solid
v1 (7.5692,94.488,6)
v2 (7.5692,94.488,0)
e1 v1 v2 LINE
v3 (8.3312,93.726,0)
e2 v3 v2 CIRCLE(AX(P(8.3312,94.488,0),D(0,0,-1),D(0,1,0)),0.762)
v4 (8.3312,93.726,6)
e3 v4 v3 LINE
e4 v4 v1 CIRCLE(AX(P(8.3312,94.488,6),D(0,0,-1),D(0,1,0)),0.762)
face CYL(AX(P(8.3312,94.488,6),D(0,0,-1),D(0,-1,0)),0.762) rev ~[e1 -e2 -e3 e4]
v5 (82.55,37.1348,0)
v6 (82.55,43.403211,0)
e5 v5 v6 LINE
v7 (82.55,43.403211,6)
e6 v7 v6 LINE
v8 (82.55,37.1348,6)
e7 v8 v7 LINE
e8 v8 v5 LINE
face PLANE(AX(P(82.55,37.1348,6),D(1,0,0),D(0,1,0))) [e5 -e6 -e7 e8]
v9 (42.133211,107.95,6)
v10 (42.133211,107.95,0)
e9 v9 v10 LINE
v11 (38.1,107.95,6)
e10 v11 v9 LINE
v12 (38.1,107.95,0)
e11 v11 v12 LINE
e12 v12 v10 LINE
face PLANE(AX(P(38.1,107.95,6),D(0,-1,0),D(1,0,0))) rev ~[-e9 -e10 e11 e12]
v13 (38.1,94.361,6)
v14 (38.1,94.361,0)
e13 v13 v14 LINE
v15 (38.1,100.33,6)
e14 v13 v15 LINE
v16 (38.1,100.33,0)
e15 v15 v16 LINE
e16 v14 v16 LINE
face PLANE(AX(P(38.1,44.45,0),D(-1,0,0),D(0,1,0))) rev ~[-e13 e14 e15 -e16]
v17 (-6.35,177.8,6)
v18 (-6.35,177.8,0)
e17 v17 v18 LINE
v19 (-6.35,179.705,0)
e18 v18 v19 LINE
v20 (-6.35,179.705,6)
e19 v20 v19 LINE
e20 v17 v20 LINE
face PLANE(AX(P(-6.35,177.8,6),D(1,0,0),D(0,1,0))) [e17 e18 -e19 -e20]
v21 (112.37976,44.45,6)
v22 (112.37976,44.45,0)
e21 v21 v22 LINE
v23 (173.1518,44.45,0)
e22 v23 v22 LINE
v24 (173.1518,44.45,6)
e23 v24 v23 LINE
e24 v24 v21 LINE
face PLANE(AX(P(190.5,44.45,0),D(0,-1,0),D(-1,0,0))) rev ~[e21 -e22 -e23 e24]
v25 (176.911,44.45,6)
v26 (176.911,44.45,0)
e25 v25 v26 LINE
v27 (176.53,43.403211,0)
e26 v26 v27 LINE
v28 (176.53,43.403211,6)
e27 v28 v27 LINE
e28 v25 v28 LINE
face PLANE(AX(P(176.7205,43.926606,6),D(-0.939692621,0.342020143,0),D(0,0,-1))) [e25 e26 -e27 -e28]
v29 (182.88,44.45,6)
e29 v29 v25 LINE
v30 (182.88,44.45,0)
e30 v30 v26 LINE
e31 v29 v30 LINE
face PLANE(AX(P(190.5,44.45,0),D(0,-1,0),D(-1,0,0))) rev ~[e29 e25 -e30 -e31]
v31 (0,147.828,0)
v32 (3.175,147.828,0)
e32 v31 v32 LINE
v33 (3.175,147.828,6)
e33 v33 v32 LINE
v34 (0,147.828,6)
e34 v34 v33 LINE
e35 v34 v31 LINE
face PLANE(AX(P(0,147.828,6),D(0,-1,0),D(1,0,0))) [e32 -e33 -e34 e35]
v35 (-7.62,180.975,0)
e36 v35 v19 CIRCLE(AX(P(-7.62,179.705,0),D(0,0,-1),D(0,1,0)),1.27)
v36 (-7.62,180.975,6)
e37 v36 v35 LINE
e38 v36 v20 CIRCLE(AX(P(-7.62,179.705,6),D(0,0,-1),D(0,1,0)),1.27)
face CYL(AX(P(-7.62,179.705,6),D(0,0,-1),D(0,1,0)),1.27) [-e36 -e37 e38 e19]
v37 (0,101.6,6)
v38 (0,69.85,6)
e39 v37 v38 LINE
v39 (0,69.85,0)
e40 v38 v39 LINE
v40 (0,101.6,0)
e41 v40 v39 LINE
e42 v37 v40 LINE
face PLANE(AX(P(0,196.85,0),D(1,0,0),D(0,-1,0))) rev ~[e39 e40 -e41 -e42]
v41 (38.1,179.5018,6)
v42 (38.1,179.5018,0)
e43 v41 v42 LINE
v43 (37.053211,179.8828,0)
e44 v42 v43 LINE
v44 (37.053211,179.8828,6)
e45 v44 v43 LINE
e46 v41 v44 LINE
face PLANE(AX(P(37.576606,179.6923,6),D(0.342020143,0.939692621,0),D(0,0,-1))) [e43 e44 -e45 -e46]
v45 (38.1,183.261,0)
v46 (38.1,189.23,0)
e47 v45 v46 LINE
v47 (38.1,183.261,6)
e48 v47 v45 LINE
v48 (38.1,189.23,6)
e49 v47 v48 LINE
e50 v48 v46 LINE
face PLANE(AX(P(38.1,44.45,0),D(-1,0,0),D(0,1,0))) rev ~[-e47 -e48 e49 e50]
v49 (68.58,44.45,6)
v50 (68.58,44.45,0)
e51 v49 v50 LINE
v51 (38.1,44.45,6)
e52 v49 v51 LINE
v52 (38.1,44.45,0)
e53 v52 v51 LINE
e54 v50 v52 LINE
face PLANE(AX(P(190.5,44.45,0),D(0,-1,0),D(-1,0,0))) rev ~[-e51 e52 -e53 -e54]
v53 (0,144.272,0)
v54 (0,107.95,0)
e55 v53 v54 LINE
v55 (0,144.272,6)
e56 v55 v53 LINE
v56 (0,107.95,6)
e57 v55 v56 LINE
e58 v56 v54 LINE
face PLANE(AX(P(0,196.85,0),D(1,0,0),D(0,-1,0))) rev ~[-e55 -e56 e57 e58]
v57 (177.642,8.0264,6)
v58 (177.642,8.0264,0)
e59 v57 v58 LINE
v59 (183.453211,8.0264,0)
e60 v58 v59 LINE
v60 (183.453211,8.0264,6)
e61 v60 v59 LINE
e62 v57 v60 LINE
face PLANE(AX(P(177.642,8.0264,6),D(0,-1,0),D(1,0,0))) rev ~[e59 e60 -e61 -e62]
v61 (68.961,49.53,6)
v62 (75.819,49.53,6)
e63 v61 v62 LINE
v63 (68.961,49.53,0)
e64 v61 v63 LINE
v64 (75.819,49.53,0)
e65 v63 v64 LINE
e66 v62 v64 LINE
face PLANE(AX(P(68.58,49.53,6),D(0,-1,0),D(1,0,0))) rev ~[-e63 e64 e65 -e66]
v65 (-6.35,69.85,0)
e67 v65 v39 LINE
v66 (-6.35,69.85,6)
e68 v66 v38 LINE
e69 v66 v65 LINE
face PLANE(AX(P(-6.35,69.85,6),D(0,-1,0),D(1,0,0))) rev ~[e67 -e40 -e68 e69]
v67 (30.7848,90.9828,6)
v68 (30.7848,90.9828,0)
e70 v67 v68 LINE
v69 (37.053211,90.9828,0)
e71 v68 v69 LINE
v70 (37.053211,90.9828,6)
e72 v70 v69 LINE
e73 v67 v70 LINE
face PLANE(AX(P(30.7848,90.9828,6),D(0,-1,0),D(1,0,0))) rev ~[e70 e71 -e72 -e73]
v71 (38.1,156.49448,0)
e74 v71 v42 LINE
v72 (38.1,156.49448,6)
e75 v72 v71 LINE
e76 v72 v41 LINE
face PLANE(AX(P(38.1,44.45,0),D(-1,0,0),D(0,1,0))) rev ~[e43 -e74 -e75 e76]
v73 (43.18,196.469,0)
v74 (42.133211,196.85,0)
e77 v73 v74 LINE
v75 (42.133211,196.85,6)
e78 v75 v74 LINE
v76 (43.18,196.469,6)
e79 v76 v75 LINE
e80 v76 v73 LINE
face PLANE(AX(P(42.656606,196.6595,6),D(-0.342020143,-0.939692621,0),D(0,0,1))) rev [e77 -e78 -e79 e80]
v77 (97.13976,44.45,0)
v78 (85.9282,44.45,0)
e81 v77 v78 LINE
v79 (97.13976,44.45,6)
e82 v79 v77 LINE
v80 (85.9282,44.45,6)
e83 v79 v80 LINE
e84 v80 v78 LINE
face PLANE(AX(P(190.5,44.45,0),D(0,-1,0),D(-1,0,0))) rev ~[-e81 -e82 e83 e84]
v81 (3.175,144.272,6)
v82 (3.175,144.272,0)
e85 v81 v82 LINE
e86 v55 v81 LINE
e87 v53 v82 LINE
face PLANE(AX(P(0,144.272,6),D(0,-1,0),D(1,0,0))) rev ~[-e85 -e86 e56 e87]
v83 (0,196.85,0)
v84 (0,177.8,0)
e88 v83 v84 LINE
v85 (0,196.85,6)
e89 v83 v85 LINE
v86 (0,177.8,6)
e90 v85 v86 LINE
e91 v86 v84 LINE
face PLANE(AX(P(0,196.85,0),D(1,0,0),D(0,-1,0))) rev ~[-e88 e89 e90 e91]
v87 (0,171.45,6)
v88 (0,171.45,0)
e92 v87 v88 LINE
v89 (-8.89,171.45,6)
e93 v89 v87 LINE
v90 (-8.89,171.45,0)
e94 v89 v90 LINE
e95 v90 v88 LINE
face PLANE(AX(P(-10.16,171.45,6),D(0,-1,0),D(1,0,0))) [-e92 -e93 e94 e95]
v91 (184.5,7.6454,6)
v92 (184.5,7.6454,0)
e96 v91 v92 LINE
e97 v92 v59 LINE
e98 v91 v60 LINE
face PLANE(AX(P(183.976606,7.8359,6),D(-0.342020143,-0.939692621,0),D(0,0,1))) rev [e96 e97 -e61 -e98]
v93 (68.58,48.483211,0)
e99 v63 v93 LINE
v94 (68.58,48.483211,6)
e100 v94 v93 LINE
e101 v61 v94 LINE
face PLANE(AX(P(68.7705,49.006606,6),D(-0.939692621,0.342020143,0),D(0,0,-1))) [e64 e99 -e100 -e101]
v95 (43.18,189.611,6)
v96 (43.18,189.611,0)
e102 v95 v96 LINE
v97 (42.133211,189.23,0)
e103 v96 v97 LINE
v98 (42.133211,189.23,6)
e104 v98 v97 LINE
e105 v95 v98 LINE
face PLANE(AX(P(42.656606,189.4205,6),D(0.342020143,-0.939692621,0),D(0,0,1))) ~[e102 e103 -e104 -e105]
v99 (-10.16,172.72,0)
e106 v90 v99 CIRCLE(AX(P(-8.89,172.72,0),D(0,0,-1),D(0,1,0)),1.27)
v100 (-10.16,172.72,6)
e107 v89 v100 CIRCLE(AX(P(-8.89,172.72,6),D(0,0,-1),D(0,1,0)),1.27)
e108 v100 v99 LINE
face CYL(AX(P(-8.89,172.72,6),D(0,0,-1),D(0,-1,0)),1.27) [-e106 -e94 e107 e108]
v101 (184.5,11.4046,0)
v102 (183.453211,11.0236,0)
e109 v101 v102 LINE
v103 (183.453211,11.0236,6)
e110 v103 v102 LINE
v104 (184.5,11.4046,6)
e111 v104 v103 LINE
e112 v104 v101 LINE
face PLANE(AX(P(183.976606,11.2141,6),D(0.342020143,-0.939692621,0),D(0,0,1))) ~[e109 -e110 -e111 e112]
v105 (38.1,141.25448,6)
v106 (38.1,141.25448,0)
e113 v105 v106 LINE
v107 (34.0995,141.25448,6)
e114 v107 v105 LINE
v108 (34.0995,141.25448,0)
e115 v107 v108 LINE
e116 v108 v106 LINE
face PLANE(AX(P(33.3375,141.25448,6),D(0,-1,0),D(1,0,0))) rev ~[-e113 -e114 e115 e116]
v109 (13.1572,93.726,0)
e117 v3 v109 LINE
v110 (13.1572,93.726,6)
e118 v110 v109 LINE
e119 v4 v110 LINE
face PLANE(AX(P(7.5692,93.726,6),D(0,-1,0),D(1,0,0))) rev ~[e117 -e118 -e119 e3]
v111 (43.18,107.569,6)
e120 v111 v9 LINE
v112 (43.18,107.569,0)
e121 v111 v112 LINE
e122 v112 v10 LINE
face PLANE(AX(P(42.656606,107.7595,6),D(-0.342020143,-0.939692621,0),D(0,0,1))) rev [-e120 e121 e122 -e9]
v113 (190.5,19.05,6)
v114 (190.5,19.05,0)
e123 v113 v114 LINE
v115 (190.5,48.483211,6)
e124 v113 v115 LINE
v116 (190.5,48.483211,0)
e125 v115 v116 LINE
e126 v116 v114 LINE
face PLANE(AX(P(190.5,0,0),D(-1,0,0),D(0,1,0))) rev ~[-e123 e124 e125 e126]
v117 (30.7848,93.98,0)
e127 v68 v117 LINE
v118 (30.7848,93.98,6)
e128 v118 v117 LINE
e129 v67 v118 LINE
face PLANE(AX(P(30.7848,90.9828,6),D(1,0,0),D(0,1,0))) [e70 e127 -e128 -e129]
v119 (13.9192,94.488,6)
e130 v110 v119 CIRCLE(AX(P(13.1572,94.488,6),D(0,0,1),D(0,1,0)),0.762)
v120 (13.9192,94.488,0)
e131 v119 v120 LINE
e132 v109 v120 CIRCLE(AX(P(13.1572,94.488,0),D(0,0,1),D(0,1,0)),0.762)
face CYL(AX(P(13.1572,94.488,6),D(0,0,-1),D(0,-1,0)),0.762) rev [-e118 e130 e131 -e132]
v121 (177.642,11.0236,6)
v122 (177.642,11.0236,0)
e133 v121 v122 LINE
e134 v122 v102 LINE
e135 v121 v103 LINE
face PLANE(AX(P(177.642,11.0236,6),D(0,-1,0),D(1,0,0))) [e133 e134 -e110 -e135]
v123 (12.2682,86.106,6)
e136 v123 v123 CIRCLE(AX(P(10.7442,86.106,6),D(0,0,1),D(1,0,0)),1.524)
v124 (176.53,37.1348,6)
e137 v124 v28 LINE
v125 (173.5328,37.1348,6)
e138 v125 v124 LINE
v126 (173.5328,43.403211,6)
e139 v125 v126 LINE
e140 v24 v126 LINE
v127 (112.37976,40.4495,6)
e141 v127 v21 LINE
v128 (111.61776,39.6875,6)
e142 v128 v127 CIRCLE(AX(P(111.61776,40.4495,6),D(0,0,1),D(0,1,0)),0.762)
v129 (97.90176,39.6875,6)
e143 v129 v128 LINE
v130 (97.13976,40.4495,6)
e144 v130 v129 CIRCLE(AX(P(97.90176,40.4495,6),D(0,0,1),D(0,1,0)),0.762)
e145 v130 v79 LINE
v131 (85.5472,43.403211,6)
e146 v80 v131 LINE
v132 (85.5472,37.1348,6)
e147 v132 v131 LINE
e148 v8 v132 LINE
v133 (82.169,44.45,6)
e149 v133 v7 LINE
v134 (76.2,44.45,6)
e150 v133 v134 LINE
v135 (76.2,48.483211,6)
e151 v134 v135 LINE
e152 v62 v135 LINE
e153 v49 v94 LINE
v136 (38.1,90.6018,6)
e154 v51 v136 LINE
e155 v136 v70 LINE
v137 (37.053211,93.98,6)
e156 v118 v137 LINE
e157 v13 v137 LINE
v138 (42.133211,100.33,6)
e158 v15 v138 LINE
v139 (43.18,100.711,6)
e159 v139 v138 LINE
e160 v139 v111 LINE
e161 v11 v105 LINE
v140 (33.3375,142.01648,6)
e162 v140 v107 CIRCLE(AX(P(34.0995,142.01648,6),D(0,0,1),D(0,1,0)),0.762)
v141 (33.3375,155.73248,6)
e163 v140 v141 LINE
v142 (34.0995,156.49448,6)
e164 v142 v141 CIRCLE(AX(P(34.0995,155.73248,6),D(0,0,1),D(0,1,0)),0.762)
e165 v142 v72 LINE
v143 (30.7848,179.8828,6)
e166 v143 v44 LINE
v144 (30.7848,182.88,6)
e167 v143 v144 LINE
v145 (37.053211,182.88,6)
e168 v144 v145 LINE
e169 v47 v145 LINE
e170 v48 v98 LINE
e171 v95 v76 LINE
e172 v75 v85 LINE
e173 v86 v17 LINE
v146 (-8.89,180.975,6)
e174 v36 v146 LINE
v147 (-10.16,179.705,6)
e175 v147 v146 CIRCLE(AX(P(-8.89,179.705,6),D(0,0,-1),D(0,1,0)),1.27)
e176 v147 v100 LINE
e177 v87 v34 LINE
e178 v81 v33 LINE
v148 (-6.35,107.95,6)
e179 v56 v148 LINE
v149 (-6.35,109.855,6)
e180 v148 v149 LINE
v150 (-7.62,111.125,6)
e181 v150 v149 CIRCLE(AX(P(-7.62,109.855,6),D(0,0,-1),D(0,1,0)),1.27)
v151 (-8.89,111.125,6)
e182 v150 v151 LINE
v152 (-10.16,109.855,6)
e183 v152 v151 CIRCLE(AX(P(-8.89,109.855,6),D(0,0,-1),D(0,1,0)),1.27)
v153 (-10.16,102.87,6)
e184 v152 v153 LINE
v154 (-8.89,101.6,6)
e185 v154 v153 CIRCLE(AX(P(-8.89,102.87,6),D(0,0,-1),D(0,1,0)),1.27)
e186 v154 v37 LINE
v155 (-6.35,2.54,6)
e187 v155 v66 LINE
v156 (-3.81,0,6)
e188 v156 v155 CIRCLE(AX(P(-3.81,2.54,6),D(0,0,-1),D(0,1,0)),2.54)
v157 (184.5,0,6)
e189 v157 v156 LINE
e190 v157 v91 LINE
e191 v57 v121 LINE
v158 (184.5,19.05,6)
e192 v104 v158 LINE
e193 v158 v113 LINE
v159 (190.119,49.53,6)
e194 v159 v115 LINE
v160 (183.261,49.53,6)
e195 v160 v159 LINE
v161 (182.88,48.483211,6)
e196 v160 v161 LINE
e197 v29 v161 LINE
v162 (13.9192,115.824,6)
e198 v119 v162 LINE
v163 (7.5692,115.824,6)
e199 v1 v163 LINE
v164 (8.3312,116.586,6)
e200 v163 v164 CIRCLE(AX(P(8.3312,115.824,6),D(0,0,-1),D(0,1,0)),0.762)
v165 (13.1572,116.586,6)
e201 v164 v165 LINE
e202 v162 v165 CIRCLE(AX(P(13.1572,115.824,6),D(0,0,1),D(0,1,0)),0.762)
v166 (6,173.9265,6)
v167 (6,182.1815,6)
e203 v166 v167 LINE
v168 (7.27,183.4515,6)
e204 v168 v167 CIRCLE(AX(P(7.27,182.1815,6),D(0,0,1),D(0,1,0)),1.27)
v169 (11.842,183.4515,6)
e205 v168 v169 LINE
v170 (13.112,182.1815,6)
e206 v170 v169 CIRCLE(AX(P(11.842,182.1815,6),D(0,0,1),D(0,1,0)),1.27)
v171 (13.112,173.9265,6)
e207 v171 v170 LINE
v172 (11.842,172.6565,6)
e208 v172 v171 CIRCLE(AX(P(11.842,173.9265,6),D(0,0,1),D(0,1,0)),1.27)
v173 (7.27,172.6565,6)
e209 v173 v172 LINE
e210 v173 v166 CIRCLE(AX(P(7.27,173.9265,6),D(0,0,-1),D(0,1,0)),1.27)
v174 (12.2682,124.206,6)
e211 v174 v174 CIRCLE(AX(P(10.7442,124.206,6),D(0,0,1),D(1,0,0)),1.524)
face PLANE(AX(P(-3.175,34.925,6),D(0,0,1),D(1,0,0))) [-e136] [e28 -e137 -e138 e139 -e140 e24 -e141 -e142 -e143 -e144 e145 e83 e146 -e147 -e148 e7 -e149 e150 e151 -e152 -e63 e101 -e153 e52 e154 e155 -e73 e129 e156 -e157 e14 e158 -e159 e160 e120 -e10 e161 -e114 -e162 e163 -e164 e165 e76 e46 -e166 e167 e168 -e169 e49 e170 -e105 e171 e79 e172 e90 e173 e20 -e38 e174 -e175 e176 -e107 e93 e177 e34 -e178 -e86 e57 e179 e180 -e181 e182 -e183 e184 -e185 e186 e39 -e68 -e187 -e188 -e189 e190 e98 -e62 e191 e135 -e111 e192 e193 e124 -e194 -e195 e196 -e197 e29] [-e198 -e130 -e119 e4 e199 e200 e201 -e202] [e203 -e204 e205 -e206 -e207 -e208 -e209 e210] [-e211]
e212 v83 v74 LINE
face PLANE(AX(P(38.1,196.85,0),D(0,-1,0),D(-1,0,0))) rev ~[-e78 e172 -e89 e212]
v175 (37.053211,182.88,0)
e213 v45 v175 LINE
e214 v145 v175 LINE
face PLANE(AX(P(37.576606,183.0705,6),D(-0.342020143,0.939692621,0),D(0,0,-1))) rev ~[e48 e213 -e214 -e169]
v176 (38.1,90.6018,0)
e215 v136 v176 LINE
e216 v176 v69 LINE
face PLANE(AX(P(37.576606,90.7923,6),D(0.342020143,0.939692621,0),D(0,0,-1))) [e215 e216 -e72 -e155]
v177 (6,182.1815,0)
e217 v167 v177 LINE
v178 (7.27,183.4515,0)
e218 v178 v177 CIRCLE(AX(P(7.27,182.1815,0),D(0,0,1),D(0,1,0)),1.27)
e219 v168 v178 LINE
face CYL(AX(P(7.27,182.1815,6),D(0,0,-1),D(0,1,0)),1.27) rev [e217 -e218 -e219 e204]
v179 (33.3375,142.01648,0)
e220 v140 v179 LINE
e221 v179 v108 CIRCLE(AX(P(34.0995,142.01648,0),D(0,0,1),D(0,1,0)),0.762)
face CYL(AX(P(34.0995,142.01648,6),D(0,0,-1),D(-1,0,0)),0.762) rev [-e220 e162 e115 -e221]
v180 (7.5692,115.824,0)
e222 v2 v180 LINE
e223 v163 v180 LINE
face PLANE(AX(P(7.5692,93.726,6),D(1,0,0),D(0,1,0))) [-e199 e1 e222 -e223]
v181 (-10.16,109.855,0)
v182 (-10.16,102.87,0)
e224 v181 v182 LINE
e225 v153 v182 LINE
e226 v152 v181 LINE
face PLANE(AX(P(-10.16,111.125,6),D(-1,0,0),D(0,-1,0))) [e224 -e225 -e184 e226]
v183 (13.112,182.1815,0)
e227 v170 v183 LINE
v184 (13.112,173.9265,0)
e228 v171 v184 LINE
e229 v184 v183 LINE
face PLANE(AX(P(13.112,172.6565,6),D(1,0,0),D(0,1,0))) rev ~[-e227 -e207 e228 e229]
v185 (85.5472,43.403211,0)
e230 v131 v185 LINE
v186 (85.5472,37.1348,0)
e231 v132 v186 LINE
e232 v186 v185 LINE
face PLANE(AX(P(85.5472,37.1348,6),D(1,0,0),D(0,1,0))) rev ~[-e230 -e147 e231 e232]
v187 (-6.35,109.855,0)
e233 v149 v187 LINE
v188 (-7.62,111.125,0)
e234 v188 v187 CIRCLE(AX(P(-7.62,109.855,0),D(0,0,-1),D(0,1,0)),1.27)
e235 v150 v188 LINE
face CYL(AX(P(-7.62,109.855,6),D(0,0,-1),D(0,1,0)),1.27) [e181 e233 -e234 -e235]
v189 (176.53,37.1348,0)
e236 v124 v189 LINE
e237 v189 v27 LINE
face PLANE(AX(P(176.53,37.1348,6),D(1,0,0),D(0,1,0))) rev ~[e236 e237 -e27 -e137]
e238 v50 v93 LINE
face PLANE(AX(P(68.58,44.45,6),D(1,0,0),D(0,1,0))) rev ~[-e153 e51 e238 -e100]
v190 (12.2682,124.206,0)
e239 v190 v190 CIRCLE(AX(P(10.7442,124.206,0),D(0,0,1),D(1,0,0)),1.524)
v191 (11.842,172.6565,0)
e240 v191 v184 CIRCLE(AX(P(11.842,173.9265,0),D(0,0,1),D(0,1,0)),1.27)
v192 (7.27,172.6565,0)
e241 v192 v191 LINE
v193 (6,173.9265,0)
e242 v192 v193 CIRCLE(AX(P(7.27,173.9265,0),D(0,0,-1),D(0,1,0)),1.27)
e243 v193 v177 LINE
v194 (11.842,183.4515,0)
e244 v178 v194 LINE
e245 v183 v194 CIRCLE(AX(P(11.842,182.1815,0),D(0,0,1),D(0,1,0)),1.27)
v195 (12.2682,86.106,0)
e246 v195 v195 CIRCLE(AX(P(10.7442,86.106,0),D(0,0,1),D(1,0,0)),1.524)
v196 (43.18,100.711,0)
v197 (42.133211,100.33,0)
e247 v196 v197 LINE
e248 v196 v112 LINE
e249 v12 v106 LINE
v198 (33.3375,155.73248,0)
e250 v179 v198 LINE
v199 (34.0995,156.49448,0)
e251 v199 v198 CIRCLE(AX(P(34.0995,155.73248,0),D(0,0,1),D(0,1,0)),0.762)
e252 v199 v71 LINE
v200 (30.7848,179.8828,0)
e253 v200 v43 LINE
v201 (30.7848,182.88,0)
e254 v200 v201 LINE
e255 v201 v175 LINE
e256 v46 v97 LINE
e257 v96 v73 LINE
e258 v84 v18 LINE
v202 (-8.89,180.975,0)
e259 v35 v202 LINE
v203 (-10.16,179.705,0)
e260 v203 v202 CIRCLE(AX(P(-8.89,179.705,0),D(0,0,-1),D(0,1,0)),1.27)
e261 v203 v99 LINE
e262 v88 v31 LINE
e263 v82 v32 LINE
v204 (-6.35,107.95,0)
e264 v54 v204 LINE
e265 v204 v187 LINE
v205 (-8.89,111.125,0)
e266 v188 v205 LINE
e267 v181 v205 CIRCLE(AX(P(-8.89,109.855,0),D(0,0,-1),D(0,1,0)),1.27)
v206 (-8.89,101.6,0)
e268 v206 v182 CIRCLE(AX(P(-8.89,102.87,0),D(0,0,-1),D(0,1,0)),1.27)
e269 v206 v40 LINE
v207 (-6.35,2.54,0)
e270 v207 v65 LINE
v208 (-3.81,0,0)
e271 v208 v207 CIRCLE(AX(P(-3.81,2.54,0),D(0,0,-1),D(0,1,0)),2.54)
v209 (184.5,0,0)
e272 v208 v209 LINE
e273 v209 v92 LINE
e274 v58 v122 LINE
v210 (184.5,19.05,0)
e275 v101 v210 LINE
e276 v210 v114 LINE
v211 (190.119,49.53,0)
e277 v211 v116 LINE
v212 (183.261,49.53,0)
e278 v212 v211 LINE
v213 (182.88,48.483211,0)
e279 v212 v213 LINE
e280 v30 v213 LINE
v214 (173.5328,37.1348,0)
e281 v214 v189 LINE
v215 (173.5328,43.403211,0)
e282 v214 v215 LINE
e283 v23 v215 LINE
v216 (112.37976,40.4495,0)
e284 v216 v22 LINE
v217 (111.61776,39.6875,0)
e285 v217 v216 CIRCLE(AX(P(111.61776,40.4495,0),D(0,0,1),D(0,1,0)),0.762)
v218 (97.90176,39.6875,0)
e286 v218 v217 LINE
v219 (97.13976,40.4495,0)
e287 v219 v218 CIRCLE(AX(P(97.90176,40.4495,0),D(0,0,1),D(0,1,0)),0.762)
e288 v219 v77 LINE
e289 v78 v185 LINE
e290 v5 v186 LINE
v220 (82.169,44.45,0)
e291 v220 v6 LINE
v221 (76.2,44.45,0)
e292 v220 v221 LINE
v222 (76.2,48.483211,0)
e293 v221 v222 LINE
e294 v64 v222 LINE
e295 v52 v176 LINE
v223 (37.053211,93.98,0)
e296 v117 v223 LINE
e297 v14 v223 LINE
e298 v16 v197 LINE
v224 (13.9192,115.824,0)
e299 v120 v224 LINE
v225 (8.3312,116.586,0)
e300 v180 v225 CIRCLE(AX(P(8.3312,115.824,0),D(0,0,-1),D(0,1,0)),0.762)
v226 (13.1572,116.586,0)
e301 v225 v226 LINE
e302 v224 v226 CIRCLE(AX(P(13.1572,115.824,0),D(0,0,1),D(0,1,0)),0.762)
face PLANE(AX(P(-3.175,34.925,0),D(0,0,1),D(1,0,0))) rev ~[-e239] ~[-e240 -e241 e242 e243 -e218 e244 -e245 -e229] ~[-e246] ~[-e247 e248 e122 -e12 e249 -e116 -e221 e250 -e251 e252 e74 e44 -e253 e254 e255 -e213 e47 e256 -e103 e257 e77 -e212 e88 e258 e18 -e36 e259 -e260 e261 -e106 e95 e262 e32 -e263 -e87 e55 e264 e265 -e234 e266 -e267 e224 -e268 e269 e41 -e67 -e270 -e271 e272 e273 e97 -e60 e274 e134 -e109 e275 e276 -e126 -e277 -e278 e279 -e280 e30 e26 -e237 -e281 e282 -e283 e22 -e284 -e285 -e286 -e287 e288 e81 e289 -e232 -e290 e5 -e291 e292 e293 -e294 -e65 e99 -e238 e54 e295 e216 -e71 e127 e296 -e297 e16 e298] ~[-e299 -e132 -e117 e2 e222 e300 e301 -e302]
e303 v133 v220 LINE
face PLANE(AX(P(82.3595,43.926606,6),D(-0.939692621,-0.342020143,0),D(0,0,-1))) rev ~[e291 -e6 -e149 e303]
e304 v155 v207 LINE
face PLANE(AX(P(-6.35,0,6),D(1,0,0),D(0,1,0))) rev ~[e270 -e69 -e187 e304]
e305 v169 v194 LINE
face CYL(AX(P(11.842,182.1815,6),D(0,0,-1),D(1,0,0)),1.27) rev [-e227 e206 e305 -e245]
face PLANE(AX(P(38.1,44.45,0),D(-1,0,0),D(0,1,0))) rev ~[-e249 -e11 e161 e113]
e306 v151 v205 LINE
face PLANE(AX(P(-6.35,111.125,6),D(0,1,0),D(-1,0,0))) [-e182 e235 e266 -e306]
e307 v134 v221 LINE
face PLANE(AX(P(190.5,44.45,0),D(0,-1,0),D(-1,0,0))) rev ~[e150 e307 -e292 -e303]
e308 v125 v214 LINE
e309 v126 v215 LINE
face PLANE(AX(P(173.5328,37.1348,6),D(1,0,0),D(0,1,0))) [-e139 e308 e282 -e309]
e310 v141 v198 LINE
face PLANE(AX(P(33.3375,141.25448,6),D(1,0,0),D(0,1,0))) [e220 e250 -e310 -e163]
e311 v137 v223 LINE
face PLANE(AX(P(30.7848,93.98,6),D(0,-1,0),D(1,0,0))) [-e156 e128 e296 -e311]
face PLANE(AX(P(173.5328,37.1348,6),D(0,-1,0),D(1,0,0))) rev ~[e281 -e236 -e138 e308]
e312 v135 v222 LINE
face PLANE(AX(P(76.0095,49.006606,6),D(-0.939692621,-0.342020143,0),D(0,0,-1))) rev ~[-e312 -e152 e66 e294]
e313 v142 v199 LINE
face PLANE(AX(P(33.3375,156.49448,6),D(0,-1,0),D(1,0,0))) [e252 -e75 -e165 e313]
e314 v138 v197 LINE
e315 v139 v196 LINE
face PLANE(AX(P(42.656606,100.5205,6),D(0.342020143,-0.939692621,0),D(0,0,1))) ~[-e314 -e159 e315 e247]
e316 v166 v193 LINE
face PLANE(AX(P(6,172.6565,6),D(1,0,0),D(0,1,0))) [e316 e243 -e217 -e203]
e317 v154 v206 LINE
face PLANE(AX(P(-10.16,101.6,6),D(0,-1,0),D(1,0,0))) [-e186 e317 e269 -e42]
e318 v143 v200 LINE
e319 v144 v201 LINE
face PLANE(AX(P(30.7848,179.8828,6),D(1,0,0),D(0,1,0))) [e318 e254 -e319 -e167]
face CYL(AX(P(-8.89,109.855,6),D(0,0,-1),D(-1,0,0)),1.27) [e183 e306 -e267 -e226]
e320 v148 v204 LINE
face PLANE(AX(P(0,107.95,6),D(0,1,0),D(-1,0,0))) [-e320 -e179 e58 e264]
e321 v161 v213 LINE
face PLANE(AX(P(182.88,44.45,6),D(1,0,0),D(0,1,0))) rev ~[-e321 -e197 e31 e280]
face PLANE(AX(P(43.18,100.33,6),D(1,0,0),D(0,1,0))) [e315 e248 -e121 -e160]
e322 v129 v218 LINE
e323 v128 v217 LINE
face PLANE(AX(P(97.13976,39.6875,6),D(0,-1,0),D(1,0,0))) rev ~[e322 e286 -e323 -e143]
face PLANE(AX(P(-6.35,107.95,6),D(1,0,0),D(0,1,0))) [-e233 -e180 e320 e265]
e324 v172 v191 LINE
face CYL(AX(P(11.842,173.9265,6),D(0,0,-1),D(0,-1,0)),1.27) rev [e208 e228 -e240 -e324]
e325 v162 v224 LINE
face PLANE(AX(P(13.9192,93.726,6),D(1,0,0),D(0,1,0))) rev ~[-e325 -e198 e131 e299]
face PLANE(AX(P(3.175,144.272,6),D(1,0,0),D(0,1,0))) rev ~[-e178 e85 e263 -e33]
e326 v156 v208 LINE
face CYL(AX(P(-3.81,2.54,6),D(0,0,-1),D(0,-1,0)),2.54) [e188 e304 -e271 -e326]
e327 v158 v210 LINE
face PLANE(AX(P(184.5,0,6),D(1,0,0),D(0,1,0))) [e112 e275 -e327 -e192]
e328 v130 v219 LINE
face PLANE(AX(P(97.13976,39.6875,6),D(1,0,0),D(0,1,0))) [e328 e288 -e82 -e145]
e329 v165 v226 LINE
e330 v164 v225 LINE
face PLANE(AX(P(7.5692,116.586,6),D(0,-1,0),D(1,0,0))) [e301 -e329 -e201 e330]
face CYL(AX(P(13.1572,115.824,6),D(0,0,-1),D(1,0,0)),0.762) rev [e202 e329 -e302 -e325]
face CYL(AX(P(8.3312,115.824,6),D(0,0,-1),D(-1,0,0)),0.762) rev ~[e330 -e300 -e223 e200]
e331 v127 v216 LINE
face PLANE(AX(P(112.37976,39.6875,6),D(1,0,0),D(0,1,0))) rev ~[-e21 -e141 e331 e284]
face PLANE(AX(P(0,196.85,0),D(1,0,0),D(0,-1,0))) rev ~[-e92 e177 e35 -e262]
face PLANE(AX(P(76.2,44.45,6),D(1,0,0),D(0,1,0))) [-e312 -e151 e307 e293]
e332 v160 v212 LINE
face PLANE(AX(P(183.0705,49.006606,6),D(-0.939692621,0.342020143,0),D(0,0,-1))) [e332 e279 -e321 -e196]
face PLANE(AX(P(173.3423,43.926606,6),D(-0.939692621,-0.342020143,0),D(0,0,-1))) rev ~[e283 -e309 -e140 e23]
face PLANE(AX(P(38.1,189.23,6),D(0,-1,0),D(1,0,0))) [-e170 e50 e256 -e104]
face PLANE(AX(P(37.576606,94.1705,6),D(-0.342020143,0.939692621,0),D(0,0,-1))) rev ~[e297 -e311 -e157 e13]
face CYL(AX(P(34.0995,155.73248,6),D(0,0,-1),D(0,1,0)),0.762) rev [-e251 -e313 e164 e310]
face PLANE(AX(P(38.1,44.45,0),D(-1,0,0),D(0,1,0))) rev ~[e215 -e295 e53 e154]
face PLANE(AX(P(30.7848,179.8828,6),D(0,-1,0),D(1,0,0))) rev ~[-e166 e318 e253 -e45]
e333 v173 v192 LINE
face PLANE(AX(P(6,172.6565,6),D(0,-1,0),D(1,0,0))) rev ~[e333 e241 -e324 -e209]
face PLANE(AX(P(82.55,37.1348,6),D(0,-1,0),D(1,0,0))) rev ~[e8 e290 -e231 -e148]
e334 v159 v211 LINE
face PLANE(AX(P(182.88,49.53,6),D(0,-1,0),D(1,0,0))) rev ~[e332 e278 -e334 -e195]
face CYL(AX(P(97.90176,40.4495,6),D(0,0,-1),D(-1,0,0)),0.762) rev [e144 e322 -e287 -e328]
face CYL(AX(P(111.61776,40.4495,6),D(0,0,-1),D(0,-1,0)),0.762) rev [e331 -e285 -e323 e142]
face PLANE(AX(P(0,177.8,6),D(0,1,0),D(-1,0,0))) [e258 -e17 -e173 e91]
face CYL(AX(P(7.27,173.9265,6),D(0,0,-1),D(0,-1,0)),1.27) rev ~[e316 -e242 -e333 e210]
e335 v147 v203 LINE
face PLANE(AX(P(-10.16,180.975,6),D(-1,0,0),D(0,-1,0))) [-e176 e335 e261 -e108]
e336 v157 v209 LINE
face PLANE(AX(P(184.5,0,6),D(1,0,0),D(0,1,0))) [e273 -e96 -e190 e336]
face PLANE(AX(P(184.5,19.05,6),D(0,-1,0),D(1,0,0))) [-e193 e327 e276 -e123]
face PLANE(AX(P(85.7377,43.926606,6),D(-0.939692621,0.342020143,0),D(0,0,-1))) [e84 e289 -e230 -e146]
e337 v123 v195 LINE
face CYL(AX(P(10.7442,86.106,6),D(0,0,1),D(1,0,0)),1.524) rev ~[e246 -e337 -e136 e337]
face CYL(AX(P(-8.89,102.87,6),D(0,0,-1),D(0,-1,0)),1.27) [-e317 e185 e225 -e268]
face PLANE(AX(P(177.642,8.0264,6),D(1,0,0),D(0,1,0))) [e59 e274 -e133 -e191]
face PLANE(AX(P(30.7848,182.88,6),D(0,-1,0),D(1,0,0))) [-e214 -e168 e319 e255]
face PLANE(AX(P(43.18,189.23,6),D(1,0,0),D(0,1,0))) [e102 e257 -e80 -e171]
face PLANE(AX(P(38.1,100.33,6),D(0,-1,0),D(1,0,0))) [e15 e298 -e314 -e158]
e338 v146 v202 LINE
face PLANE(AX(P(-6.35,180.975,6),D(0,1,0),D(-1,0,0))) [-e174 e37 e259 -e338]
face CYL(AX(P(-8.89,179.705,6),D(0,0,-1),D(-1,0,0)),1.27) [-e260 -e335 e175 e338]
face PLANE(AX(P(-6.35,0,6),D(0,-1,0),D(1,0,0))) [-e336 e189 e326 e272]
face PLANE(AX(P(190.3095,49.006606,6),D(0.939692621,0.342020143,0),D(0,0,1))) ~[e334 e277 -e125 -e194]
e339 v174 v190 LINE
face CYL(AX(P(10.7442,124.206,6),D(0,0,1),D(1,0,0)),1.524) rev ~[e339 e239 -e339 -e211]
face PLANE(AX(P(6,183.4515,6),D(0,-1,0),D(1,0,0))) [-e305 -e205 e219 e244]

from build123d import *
from OCP.BRepFilletAPI import BRepFilletAPI_MakeChamfer

# Parameters (mm, degrees)
BOSS_EXTRUDE1_DEPTH = 6
SKETCH2_W           = 6.35
SKETCH2_H           = 69.85
SKETCH2_W_2         = 7.62
SKETCH2_H_2         = 5.08
SKETCH2_W_3         = 5.08
SKETCH2_H_3         = 7.62
BOSS_EXTRUDE2_DEPTH = 6
FILLET1_R           = 1.27
SKETCH3_W           = 6
SKETCH3_H           = 19.05
CUT_EXTRUDE1_DEPTH  = 275.000314781
FILLET2_R           = 2.54
SKETCH4_W           = 7.112
SKETCH4_H           = 10.795
SKETCH4_W_2         = 3.175
SKETCH4_H_2         = 3.556
CUT_EXTRUDE2_DEPTH  = 275.000314781
FILLET3_R           = 1.27
SKETCH5_R           = 1.524
SKETCH5_W           = 6.35
SKETCH5_H           = 22.86
CUT_EXTRUDE3_DEPTH  = 275.000314781
SKETCH6_W           = 7.3152
SKETCH6_H           = 2.9972
SKETCH6_W_2         = 2.9972
SKETCH6_H_2         = 7.3152
SKETCH6_W_3         = 6.858
SKETCH6_W_4         = 4.7625
SKETCH6_H_3         = 15.24
SKETCH6_W_5         = 15.24
SKETCH6_H_4         = 4.7625
CUT_EXTRUDE4_DEPTH  = 275.000314781
FILLET4_R           = 0.762
CHAMFER1_SIZE       = 0.381
CHAMFER1_SIZE2      = 1.046788897
CHAMFER2_SIZE       = 0.381
CHAMFER2_SIZE2      = 1.046788897


with BuildPart() as part:
    # Sketch1 → Boss-Extrude1 (new body)
    with BuildSketch(Plane.XY):
        Polygon((0, 0), (190.5, 0), (190.5, 44.45), (38.1, 44.45), (38.1, 196.85), (0, 196.85), align=None)
    extrude(amount=BOSS_EXTRUDE1_DEPTH)

    # Sketch2 → Boss-Extrude2 (add)
    with BuildSketch(Plane.XY.offset(6)):
        Polygon((0, 177.8), (-6.35, 177.8), (-6.35, 180.975), (-10.16, 180.975), (-10.16, 171.45), (0, 171.45), align=None)
        with Locations((-3.175, 34.925)):
            Rectangle(SKETCH2_W, SKETCH2_H)
        Polygon((0, 107.95), (-6.35, 107.95), (-6.35, 111.125), (-10.16, 111.125), (-10.16, 101.6), (0, 101.6), align=None)
        with Locations((72.39, 46.99)):
            Rectangle(SKETCH2_W_2, SKETCH2_H_2)
        with Locations((186.69, 46.99)):
            Rectangle(SKETCH2_W_2, SKETCH2_H_2)
        with Locations((40.64, 193.04)):
            Rectangle(SKETCH2_W_3, SKETCH2_H_3)
        with Locations((40.64, 104.14)):
            Rectangle(SKETCH2_W_3, SKETCH2_H_3)
    extrude(amount=-BOSS_EXTRUDE2_DEPTH)

    # Fillet1
    fillet1_edges = [part.edges().sort_by_distance(p)[0] for p in [
        (-10.16, 171.45, 3),
        (-10.16, 180.975, 3),
        (-6.35, 180.975, 3),
        (-10.16, 101.6, 3),
        (-10.16, 111.125, 3),
        (-6.35, 111.125, 3),
    ]]
    fillet(fillet1_edges, radius=FILLET1_R)

    # Sketch3 → Cut-Extrude1 (cut, through all)
    with BuildSketch(Plane.XY.offset(6)):
        with Locations((187.5, 9.525)):
            Rectangle(SKETCH3_W, SKETCH3_H)
    extrude(amount=-CUT_EXTRUDE1_DEPTH, mode=Mode.SUBTRACT)

    # Fillet2
    fillet2_edges = [part.edges().sort_by_distance(p)[0] for p in [
        (-6.35, 0, 3),
    ]]
    fillet(fillet2_edges, radius=FILLET2_R)

    # Sketch4 → Cut-Extrude2 (cut, through all)
    with BuildSketch(Plane.XY.offset(6)):
        with Locations((9.556, 178.054)):
            Rectangle(SKETCH4_W, SKETCH4_H)
        with Locations((1.5875, 146.05)):
            Rectangle(SKETCH4_W_2, SKETCH4_H_2)
    extrude(amount=-CUT_EXTRUDE2_DEPTH, mode=Mode.SUBTRACT)

    # Fillet3
    fillet3_edges = [part.edges().sort_by_distance(p)[0] for p in [
        (13.112, 183.4515, 3),
        (13.112, 172.6565, 3),
        (6, 172.6565, 3),
        (6, 183.4515, 3),
    ]]
    fillet(fillet3_edges, radius=FILLET3_R)

    # Sketch5 → Cut-Extrude3 (cut, through all)
    with BuildSketch(Plane.XY.offset(6)):
        with Locations((10.7442, 124.206)):
            Circle(SKETCH5_R)
        with Locations((10.7442, 86.106)):
            Circle(SKETCH5_R)
        with Locations((10.7442, 105.156)):
            Rectangle(SKETCH5_W, SKETCH5_H)
    extrude(amount=-CUT_EXTRUDE3_DEPTH, mode=Mode.SUBTRACT)

    # Sketch6 → Cut-Extrude4 (cut, through all)
    with BuildSketch(Plane.XY.offset(6)):
        with Locations((34.4424, 181.3814)):
            Rectangle(SKETCH6_W, SKETCH6_H)
        with Locations((34.4424, 92.4814)):
            Rectangle(SKETCH6_W, SKETCH6_H)
        with Locations((84.0486, 40.7924)):
            Rectangle(SKETCH6_W_2, SKETCH6_H_2)
        with Locations((175.0314, 40.7924)):
            Rectangle(SKETCH6_W_2, SKETCH6_H_2)
        with Locations((181.071, 9.525)):
            Rectangle(SKETCH6_W_3, SKETCH6_H)
        with Locations((35.71875, 148.87448)):
            Rectangle(SKETCH6_W_4, SKETCH6_H_3)
        with Locations((104.75976, 42.06875)):
            Rectangle(SKETCH6_W_5, SKETCH6_H_4)
    extrude(amount=-CUT_EXTRUDE4_DEPTH, mode=Mode.SUBTRACT)

    # Fillet4
    fillet4_edges = [part.edges().sort_by_distance(p)[0] for p in [
        (7.5692, 93.726, 3),
        (7.5692, 116.586, 3),
        (13.9192, 116.586, 3),
        (13.9192, 93.726, 3),
        (33.3375, 141.25448, 3),
        (33.3375, 156.49448, 3),
        (97.13976, 39.6875, 3),
        (112.37976, 39.6875, 3),
    ]]
    fillet(fillet4_edges, radius=FILLET4_R)

    # Chamfer1: one chamfer whose edges measure the first distance from different faces: ONE call of the kernel's chamfer builder (chamfer() names one face for all edges)
    chamfer1_edges_1 = [part.edges().sort_by_distance(p)[0] for p in [
        (38.1, 182.88, 3),
    ]]
    chamfer1_side_1 = [part.faces().sort_by_distance(p)[0] for p in [
        (38.1, 186.055, 3),
    ]]
    chamfer1_edges_2 = [part.edges().sort_by_distance(p)[0] for p in [
        (38.1, 179.8828, 3),
    ]]
    chamfer1_side_2 = [part.faces().sort_by_distance(p)[0] for p in [
        (38.1, 168.18864, 3),
    ]]
    chamfer1_edges_3 = [part.edges().sort_by_distance(p)[0] for p in [
        (38.1, 93.98, 3),
    ]]
    chamfer1_side_3 = [part.faces().sort_by_distance(p)[0] for p in [
        (38.1, 97.155, 3),
    ]]
    chamfer1_edges_4 = [part.edges().sort_by_distance(p)[0] for p in [
        (38.1, 90.9828, 3),
    ]]
    chamfer1_side_4 = [part.faces().sort_by_distance(p)[0] for p in [
        (38.1, 67.7164, 3),
    ]]
    chamfer1_edges_5 = [part.edges().sort_by_distance(p)[0] for p in [
        (82.55, 44.45, 3),
    ]]
    chamfer1_side_5 = [part.faces().sort_by_distance(p)[0] for p in [
        (79.375, 44.45, 3),
    ]]
    chamfer1_edges_6 = [part.edges().sort_by_distance(p)[0] for p in [
        (85.5472, 44.45, 3),
    ]]
    chamfer1_side_6 = [part.faces().sort_by_distance(p)[0] for p in [
        (91.34348, 44.45, 3),
    ]]
    chamfer1_edges_7 = [part.edges().sort_by_distance(p)[0] for p in [
        (173.5328, 44.45, 3),
    ]]
    chamfer1_side_7 = [part.faces().sort_by_distance(p)[0] for p in [
        (142.95628, 44.45, 3),
    ]]
    chamfer1_edges_8 = [part.edges().sort_by_distance(p)[0] for p in [
        (176.53, 44.45, 3),
    ]]
    chamfer1_side_8 = [part.faces().sort_by_distance(p)[0] for p in [
        (179.705, 44.45, 3),
    ]]
    chamfer1_edges_9 = [part.edges().sort_by_distance(p)[0] for p in [
        (184.5, 11.0236, 3),
    ]]
    chamfer1_side_9 = [part.faces().sort_by_distance(p)[0] for p in [
        (184.5, 15.0368, 3),
    ]]
    chamfer1_edges_10 = [part.edges().sort_by_distance(p)[0] for p in [
        (184.5, 8.0264, 3),
    ]]
    chamfer1_side_10 = [part.faces().sort_by_distance(p)[0] for p in [
        (184.5, 4.0132, 3),
    ]]
    chamfer1 = BRepFilletAPI_MakeChamfer(part.part.solid().wrapped)
    for e in chamfer1_edges_1:
        chamfer1.Add(CHAMFER1_SIZE, CHAMFER1_SIZE2, e.wrapped, chamfer1_side_1[0].wrapped)  # the first distance lies on this face
    for e in chamfer1_edges_2:
        chamfer1.Add(CHAMFER1_SIZE, CHAMFER1_SIZE2, e.wrapped, chamfer1_side_2[0].wrapped)  # the first distance lies on this face
    for e in chamfer1_edges_3:
        chamfer1.Add(CHAMFER1_SIZE, CHAMFER1_SIZE2, e.wrapped, chamfer1_side_3[0].wrapped)  # the first distance lies on this face
    for e in chamfer1_edges_4:
        chamfer1.Add(CHAMFER1_SIZE, CHAMFER1_SIZE2, e.wrapped, chamfer1_side_4[0].wrapped)  # the first distance lies on this face
    for e in chamfer1_edges_5:
        chamfer1.Add(CHAMFER1_SIZE, CHAMFER1_SIZE2, e.wrapped, chamfer1_side_5[0].wrapped)  # the first distance lies on this face
    for e in chamfer1_edges_6:
        chamfer1.Add(CHAMFER1_SIZE, CHAMFER1_SIZE2, e.wrapped, chamfer1_side_6[0].wrapped)  # the first distance lies on this face
    for e in chamfer1_edges_7:
        chamfer1.Add(CHAMFER1_SIZE, CHAMFER1_SIZE2, e.wrapped, chamfer1_side_7[0].wrapped)  # the first distance lies on this face
    for e in chamfer1_edges_8:
        chamfer1.Add(CHAMFER1_SIZE, CHAMFER1_SIZE2, e.wrapped, chamfer1_side_8[0].wrapped)  # the first distance lies on this face
    for e in chamfer1_edges_9:
        chamfer1.Add(CHAMFER1_SIZE, CHAMFER1_SIZE2, e.wrapped, chamfer1_side_9[0].wrapped)  # the first distance lies on this face
    for e in chamfer1_edges_10:
        chamfer1.Add(CHAMFER1_SIZE, CHAMFER1_SIZE2, e.wrapped, chamfer1_side_10[0].wrapped)  # the first distance lies on this face
    add(Compound.cast(chamfer1.Shape()), mode=Mode.REPLACE)

    # Chamfer2: one chamfer whose edges measure the first distance from different faces: ONE call of the kernel's chamfer builder (chamfer() names one face for all edges)
    chamfer2_edges_1 = [part.edges().sort_by_distance(p)[0] for p in [
        (68.58, 49.53, 3),
        (76.2, 49.53, 3),
    ]]
    chamfer2_side_1 = [part.faces().sort_by_distance(p)[0] for p in [
        (72.39, 49.53, 3),
    ]]
    chamfer2_edges_2 = [part.edges().sort_by_distance(p)[0] for p in [
        (190.5, 49.53, 3),
        (182.88, 49.53, 3),
    ]]
    chamfer2_side_2 = [part.faces().sort_by_distance(p)[0] for p in [
        (186.69, 49.53, 3),
    ]]
    chamfer2_edges_3 = [part.edges().sort_by_distance(p)[0] for p in [
        (43.18, 196.85, 3),
        (43.18, 189.23, 3),
    ]]
    chamfer2_side_3 = [part.faces().sort_by_distance(p)[0] for p in [
        (43.18, 193.04, 3),
    ]]
    chamfer2_edges_4 = [part.edges().sort_by_distance(p)[0] for p in [
        (43.18, 107.95, 3),
        (43.18, 100.33, 3),
    ]]
    chamfer2_side_4 = [part.faces().sort_by_distance(p)[0] for p in [
        (43.18, 104.14, 3),
    ]]
    chamfer2 = BRepFilletAPI_MakeChamfer(part.part.solid().wrapped)
    for e in chamfer2_edges_1:
        chamfer2.Add(CHAMFER2_SIZE, CHAMFER2_SIZE2, e.wrapped, chamfer2_side_1[0].wrapped)  # the first distance lies on this face
    for e in chamfer2_edges_2:
        chamfer2.Add(CHAMFER2_SIZE, CHAMFER2_SIZE2, e.wrapped, chamfer2_side_2[0].wrapped)  # the first distance lies on this face
    for e in chamfer2_edges_3:
        chamfer2.Add(CHAMFER2_SIZE, CHAMFER2_SIZE2, e.wrapped, chamfer2_side_3[0].wrapped)  # the first distance lies on this face
    for e in chamfer2_edges_4:
        chamfer2.Add(CHAMFER2_SIZE, CHAMFER2_SIZE2, e.wrapped, chamfer2_side_4[0].wrapped)  # the first distance lies on this face
    add(Compound.cast(chamfer2.Shape()), mode=Mode.REPLACE)


solid = part.part
